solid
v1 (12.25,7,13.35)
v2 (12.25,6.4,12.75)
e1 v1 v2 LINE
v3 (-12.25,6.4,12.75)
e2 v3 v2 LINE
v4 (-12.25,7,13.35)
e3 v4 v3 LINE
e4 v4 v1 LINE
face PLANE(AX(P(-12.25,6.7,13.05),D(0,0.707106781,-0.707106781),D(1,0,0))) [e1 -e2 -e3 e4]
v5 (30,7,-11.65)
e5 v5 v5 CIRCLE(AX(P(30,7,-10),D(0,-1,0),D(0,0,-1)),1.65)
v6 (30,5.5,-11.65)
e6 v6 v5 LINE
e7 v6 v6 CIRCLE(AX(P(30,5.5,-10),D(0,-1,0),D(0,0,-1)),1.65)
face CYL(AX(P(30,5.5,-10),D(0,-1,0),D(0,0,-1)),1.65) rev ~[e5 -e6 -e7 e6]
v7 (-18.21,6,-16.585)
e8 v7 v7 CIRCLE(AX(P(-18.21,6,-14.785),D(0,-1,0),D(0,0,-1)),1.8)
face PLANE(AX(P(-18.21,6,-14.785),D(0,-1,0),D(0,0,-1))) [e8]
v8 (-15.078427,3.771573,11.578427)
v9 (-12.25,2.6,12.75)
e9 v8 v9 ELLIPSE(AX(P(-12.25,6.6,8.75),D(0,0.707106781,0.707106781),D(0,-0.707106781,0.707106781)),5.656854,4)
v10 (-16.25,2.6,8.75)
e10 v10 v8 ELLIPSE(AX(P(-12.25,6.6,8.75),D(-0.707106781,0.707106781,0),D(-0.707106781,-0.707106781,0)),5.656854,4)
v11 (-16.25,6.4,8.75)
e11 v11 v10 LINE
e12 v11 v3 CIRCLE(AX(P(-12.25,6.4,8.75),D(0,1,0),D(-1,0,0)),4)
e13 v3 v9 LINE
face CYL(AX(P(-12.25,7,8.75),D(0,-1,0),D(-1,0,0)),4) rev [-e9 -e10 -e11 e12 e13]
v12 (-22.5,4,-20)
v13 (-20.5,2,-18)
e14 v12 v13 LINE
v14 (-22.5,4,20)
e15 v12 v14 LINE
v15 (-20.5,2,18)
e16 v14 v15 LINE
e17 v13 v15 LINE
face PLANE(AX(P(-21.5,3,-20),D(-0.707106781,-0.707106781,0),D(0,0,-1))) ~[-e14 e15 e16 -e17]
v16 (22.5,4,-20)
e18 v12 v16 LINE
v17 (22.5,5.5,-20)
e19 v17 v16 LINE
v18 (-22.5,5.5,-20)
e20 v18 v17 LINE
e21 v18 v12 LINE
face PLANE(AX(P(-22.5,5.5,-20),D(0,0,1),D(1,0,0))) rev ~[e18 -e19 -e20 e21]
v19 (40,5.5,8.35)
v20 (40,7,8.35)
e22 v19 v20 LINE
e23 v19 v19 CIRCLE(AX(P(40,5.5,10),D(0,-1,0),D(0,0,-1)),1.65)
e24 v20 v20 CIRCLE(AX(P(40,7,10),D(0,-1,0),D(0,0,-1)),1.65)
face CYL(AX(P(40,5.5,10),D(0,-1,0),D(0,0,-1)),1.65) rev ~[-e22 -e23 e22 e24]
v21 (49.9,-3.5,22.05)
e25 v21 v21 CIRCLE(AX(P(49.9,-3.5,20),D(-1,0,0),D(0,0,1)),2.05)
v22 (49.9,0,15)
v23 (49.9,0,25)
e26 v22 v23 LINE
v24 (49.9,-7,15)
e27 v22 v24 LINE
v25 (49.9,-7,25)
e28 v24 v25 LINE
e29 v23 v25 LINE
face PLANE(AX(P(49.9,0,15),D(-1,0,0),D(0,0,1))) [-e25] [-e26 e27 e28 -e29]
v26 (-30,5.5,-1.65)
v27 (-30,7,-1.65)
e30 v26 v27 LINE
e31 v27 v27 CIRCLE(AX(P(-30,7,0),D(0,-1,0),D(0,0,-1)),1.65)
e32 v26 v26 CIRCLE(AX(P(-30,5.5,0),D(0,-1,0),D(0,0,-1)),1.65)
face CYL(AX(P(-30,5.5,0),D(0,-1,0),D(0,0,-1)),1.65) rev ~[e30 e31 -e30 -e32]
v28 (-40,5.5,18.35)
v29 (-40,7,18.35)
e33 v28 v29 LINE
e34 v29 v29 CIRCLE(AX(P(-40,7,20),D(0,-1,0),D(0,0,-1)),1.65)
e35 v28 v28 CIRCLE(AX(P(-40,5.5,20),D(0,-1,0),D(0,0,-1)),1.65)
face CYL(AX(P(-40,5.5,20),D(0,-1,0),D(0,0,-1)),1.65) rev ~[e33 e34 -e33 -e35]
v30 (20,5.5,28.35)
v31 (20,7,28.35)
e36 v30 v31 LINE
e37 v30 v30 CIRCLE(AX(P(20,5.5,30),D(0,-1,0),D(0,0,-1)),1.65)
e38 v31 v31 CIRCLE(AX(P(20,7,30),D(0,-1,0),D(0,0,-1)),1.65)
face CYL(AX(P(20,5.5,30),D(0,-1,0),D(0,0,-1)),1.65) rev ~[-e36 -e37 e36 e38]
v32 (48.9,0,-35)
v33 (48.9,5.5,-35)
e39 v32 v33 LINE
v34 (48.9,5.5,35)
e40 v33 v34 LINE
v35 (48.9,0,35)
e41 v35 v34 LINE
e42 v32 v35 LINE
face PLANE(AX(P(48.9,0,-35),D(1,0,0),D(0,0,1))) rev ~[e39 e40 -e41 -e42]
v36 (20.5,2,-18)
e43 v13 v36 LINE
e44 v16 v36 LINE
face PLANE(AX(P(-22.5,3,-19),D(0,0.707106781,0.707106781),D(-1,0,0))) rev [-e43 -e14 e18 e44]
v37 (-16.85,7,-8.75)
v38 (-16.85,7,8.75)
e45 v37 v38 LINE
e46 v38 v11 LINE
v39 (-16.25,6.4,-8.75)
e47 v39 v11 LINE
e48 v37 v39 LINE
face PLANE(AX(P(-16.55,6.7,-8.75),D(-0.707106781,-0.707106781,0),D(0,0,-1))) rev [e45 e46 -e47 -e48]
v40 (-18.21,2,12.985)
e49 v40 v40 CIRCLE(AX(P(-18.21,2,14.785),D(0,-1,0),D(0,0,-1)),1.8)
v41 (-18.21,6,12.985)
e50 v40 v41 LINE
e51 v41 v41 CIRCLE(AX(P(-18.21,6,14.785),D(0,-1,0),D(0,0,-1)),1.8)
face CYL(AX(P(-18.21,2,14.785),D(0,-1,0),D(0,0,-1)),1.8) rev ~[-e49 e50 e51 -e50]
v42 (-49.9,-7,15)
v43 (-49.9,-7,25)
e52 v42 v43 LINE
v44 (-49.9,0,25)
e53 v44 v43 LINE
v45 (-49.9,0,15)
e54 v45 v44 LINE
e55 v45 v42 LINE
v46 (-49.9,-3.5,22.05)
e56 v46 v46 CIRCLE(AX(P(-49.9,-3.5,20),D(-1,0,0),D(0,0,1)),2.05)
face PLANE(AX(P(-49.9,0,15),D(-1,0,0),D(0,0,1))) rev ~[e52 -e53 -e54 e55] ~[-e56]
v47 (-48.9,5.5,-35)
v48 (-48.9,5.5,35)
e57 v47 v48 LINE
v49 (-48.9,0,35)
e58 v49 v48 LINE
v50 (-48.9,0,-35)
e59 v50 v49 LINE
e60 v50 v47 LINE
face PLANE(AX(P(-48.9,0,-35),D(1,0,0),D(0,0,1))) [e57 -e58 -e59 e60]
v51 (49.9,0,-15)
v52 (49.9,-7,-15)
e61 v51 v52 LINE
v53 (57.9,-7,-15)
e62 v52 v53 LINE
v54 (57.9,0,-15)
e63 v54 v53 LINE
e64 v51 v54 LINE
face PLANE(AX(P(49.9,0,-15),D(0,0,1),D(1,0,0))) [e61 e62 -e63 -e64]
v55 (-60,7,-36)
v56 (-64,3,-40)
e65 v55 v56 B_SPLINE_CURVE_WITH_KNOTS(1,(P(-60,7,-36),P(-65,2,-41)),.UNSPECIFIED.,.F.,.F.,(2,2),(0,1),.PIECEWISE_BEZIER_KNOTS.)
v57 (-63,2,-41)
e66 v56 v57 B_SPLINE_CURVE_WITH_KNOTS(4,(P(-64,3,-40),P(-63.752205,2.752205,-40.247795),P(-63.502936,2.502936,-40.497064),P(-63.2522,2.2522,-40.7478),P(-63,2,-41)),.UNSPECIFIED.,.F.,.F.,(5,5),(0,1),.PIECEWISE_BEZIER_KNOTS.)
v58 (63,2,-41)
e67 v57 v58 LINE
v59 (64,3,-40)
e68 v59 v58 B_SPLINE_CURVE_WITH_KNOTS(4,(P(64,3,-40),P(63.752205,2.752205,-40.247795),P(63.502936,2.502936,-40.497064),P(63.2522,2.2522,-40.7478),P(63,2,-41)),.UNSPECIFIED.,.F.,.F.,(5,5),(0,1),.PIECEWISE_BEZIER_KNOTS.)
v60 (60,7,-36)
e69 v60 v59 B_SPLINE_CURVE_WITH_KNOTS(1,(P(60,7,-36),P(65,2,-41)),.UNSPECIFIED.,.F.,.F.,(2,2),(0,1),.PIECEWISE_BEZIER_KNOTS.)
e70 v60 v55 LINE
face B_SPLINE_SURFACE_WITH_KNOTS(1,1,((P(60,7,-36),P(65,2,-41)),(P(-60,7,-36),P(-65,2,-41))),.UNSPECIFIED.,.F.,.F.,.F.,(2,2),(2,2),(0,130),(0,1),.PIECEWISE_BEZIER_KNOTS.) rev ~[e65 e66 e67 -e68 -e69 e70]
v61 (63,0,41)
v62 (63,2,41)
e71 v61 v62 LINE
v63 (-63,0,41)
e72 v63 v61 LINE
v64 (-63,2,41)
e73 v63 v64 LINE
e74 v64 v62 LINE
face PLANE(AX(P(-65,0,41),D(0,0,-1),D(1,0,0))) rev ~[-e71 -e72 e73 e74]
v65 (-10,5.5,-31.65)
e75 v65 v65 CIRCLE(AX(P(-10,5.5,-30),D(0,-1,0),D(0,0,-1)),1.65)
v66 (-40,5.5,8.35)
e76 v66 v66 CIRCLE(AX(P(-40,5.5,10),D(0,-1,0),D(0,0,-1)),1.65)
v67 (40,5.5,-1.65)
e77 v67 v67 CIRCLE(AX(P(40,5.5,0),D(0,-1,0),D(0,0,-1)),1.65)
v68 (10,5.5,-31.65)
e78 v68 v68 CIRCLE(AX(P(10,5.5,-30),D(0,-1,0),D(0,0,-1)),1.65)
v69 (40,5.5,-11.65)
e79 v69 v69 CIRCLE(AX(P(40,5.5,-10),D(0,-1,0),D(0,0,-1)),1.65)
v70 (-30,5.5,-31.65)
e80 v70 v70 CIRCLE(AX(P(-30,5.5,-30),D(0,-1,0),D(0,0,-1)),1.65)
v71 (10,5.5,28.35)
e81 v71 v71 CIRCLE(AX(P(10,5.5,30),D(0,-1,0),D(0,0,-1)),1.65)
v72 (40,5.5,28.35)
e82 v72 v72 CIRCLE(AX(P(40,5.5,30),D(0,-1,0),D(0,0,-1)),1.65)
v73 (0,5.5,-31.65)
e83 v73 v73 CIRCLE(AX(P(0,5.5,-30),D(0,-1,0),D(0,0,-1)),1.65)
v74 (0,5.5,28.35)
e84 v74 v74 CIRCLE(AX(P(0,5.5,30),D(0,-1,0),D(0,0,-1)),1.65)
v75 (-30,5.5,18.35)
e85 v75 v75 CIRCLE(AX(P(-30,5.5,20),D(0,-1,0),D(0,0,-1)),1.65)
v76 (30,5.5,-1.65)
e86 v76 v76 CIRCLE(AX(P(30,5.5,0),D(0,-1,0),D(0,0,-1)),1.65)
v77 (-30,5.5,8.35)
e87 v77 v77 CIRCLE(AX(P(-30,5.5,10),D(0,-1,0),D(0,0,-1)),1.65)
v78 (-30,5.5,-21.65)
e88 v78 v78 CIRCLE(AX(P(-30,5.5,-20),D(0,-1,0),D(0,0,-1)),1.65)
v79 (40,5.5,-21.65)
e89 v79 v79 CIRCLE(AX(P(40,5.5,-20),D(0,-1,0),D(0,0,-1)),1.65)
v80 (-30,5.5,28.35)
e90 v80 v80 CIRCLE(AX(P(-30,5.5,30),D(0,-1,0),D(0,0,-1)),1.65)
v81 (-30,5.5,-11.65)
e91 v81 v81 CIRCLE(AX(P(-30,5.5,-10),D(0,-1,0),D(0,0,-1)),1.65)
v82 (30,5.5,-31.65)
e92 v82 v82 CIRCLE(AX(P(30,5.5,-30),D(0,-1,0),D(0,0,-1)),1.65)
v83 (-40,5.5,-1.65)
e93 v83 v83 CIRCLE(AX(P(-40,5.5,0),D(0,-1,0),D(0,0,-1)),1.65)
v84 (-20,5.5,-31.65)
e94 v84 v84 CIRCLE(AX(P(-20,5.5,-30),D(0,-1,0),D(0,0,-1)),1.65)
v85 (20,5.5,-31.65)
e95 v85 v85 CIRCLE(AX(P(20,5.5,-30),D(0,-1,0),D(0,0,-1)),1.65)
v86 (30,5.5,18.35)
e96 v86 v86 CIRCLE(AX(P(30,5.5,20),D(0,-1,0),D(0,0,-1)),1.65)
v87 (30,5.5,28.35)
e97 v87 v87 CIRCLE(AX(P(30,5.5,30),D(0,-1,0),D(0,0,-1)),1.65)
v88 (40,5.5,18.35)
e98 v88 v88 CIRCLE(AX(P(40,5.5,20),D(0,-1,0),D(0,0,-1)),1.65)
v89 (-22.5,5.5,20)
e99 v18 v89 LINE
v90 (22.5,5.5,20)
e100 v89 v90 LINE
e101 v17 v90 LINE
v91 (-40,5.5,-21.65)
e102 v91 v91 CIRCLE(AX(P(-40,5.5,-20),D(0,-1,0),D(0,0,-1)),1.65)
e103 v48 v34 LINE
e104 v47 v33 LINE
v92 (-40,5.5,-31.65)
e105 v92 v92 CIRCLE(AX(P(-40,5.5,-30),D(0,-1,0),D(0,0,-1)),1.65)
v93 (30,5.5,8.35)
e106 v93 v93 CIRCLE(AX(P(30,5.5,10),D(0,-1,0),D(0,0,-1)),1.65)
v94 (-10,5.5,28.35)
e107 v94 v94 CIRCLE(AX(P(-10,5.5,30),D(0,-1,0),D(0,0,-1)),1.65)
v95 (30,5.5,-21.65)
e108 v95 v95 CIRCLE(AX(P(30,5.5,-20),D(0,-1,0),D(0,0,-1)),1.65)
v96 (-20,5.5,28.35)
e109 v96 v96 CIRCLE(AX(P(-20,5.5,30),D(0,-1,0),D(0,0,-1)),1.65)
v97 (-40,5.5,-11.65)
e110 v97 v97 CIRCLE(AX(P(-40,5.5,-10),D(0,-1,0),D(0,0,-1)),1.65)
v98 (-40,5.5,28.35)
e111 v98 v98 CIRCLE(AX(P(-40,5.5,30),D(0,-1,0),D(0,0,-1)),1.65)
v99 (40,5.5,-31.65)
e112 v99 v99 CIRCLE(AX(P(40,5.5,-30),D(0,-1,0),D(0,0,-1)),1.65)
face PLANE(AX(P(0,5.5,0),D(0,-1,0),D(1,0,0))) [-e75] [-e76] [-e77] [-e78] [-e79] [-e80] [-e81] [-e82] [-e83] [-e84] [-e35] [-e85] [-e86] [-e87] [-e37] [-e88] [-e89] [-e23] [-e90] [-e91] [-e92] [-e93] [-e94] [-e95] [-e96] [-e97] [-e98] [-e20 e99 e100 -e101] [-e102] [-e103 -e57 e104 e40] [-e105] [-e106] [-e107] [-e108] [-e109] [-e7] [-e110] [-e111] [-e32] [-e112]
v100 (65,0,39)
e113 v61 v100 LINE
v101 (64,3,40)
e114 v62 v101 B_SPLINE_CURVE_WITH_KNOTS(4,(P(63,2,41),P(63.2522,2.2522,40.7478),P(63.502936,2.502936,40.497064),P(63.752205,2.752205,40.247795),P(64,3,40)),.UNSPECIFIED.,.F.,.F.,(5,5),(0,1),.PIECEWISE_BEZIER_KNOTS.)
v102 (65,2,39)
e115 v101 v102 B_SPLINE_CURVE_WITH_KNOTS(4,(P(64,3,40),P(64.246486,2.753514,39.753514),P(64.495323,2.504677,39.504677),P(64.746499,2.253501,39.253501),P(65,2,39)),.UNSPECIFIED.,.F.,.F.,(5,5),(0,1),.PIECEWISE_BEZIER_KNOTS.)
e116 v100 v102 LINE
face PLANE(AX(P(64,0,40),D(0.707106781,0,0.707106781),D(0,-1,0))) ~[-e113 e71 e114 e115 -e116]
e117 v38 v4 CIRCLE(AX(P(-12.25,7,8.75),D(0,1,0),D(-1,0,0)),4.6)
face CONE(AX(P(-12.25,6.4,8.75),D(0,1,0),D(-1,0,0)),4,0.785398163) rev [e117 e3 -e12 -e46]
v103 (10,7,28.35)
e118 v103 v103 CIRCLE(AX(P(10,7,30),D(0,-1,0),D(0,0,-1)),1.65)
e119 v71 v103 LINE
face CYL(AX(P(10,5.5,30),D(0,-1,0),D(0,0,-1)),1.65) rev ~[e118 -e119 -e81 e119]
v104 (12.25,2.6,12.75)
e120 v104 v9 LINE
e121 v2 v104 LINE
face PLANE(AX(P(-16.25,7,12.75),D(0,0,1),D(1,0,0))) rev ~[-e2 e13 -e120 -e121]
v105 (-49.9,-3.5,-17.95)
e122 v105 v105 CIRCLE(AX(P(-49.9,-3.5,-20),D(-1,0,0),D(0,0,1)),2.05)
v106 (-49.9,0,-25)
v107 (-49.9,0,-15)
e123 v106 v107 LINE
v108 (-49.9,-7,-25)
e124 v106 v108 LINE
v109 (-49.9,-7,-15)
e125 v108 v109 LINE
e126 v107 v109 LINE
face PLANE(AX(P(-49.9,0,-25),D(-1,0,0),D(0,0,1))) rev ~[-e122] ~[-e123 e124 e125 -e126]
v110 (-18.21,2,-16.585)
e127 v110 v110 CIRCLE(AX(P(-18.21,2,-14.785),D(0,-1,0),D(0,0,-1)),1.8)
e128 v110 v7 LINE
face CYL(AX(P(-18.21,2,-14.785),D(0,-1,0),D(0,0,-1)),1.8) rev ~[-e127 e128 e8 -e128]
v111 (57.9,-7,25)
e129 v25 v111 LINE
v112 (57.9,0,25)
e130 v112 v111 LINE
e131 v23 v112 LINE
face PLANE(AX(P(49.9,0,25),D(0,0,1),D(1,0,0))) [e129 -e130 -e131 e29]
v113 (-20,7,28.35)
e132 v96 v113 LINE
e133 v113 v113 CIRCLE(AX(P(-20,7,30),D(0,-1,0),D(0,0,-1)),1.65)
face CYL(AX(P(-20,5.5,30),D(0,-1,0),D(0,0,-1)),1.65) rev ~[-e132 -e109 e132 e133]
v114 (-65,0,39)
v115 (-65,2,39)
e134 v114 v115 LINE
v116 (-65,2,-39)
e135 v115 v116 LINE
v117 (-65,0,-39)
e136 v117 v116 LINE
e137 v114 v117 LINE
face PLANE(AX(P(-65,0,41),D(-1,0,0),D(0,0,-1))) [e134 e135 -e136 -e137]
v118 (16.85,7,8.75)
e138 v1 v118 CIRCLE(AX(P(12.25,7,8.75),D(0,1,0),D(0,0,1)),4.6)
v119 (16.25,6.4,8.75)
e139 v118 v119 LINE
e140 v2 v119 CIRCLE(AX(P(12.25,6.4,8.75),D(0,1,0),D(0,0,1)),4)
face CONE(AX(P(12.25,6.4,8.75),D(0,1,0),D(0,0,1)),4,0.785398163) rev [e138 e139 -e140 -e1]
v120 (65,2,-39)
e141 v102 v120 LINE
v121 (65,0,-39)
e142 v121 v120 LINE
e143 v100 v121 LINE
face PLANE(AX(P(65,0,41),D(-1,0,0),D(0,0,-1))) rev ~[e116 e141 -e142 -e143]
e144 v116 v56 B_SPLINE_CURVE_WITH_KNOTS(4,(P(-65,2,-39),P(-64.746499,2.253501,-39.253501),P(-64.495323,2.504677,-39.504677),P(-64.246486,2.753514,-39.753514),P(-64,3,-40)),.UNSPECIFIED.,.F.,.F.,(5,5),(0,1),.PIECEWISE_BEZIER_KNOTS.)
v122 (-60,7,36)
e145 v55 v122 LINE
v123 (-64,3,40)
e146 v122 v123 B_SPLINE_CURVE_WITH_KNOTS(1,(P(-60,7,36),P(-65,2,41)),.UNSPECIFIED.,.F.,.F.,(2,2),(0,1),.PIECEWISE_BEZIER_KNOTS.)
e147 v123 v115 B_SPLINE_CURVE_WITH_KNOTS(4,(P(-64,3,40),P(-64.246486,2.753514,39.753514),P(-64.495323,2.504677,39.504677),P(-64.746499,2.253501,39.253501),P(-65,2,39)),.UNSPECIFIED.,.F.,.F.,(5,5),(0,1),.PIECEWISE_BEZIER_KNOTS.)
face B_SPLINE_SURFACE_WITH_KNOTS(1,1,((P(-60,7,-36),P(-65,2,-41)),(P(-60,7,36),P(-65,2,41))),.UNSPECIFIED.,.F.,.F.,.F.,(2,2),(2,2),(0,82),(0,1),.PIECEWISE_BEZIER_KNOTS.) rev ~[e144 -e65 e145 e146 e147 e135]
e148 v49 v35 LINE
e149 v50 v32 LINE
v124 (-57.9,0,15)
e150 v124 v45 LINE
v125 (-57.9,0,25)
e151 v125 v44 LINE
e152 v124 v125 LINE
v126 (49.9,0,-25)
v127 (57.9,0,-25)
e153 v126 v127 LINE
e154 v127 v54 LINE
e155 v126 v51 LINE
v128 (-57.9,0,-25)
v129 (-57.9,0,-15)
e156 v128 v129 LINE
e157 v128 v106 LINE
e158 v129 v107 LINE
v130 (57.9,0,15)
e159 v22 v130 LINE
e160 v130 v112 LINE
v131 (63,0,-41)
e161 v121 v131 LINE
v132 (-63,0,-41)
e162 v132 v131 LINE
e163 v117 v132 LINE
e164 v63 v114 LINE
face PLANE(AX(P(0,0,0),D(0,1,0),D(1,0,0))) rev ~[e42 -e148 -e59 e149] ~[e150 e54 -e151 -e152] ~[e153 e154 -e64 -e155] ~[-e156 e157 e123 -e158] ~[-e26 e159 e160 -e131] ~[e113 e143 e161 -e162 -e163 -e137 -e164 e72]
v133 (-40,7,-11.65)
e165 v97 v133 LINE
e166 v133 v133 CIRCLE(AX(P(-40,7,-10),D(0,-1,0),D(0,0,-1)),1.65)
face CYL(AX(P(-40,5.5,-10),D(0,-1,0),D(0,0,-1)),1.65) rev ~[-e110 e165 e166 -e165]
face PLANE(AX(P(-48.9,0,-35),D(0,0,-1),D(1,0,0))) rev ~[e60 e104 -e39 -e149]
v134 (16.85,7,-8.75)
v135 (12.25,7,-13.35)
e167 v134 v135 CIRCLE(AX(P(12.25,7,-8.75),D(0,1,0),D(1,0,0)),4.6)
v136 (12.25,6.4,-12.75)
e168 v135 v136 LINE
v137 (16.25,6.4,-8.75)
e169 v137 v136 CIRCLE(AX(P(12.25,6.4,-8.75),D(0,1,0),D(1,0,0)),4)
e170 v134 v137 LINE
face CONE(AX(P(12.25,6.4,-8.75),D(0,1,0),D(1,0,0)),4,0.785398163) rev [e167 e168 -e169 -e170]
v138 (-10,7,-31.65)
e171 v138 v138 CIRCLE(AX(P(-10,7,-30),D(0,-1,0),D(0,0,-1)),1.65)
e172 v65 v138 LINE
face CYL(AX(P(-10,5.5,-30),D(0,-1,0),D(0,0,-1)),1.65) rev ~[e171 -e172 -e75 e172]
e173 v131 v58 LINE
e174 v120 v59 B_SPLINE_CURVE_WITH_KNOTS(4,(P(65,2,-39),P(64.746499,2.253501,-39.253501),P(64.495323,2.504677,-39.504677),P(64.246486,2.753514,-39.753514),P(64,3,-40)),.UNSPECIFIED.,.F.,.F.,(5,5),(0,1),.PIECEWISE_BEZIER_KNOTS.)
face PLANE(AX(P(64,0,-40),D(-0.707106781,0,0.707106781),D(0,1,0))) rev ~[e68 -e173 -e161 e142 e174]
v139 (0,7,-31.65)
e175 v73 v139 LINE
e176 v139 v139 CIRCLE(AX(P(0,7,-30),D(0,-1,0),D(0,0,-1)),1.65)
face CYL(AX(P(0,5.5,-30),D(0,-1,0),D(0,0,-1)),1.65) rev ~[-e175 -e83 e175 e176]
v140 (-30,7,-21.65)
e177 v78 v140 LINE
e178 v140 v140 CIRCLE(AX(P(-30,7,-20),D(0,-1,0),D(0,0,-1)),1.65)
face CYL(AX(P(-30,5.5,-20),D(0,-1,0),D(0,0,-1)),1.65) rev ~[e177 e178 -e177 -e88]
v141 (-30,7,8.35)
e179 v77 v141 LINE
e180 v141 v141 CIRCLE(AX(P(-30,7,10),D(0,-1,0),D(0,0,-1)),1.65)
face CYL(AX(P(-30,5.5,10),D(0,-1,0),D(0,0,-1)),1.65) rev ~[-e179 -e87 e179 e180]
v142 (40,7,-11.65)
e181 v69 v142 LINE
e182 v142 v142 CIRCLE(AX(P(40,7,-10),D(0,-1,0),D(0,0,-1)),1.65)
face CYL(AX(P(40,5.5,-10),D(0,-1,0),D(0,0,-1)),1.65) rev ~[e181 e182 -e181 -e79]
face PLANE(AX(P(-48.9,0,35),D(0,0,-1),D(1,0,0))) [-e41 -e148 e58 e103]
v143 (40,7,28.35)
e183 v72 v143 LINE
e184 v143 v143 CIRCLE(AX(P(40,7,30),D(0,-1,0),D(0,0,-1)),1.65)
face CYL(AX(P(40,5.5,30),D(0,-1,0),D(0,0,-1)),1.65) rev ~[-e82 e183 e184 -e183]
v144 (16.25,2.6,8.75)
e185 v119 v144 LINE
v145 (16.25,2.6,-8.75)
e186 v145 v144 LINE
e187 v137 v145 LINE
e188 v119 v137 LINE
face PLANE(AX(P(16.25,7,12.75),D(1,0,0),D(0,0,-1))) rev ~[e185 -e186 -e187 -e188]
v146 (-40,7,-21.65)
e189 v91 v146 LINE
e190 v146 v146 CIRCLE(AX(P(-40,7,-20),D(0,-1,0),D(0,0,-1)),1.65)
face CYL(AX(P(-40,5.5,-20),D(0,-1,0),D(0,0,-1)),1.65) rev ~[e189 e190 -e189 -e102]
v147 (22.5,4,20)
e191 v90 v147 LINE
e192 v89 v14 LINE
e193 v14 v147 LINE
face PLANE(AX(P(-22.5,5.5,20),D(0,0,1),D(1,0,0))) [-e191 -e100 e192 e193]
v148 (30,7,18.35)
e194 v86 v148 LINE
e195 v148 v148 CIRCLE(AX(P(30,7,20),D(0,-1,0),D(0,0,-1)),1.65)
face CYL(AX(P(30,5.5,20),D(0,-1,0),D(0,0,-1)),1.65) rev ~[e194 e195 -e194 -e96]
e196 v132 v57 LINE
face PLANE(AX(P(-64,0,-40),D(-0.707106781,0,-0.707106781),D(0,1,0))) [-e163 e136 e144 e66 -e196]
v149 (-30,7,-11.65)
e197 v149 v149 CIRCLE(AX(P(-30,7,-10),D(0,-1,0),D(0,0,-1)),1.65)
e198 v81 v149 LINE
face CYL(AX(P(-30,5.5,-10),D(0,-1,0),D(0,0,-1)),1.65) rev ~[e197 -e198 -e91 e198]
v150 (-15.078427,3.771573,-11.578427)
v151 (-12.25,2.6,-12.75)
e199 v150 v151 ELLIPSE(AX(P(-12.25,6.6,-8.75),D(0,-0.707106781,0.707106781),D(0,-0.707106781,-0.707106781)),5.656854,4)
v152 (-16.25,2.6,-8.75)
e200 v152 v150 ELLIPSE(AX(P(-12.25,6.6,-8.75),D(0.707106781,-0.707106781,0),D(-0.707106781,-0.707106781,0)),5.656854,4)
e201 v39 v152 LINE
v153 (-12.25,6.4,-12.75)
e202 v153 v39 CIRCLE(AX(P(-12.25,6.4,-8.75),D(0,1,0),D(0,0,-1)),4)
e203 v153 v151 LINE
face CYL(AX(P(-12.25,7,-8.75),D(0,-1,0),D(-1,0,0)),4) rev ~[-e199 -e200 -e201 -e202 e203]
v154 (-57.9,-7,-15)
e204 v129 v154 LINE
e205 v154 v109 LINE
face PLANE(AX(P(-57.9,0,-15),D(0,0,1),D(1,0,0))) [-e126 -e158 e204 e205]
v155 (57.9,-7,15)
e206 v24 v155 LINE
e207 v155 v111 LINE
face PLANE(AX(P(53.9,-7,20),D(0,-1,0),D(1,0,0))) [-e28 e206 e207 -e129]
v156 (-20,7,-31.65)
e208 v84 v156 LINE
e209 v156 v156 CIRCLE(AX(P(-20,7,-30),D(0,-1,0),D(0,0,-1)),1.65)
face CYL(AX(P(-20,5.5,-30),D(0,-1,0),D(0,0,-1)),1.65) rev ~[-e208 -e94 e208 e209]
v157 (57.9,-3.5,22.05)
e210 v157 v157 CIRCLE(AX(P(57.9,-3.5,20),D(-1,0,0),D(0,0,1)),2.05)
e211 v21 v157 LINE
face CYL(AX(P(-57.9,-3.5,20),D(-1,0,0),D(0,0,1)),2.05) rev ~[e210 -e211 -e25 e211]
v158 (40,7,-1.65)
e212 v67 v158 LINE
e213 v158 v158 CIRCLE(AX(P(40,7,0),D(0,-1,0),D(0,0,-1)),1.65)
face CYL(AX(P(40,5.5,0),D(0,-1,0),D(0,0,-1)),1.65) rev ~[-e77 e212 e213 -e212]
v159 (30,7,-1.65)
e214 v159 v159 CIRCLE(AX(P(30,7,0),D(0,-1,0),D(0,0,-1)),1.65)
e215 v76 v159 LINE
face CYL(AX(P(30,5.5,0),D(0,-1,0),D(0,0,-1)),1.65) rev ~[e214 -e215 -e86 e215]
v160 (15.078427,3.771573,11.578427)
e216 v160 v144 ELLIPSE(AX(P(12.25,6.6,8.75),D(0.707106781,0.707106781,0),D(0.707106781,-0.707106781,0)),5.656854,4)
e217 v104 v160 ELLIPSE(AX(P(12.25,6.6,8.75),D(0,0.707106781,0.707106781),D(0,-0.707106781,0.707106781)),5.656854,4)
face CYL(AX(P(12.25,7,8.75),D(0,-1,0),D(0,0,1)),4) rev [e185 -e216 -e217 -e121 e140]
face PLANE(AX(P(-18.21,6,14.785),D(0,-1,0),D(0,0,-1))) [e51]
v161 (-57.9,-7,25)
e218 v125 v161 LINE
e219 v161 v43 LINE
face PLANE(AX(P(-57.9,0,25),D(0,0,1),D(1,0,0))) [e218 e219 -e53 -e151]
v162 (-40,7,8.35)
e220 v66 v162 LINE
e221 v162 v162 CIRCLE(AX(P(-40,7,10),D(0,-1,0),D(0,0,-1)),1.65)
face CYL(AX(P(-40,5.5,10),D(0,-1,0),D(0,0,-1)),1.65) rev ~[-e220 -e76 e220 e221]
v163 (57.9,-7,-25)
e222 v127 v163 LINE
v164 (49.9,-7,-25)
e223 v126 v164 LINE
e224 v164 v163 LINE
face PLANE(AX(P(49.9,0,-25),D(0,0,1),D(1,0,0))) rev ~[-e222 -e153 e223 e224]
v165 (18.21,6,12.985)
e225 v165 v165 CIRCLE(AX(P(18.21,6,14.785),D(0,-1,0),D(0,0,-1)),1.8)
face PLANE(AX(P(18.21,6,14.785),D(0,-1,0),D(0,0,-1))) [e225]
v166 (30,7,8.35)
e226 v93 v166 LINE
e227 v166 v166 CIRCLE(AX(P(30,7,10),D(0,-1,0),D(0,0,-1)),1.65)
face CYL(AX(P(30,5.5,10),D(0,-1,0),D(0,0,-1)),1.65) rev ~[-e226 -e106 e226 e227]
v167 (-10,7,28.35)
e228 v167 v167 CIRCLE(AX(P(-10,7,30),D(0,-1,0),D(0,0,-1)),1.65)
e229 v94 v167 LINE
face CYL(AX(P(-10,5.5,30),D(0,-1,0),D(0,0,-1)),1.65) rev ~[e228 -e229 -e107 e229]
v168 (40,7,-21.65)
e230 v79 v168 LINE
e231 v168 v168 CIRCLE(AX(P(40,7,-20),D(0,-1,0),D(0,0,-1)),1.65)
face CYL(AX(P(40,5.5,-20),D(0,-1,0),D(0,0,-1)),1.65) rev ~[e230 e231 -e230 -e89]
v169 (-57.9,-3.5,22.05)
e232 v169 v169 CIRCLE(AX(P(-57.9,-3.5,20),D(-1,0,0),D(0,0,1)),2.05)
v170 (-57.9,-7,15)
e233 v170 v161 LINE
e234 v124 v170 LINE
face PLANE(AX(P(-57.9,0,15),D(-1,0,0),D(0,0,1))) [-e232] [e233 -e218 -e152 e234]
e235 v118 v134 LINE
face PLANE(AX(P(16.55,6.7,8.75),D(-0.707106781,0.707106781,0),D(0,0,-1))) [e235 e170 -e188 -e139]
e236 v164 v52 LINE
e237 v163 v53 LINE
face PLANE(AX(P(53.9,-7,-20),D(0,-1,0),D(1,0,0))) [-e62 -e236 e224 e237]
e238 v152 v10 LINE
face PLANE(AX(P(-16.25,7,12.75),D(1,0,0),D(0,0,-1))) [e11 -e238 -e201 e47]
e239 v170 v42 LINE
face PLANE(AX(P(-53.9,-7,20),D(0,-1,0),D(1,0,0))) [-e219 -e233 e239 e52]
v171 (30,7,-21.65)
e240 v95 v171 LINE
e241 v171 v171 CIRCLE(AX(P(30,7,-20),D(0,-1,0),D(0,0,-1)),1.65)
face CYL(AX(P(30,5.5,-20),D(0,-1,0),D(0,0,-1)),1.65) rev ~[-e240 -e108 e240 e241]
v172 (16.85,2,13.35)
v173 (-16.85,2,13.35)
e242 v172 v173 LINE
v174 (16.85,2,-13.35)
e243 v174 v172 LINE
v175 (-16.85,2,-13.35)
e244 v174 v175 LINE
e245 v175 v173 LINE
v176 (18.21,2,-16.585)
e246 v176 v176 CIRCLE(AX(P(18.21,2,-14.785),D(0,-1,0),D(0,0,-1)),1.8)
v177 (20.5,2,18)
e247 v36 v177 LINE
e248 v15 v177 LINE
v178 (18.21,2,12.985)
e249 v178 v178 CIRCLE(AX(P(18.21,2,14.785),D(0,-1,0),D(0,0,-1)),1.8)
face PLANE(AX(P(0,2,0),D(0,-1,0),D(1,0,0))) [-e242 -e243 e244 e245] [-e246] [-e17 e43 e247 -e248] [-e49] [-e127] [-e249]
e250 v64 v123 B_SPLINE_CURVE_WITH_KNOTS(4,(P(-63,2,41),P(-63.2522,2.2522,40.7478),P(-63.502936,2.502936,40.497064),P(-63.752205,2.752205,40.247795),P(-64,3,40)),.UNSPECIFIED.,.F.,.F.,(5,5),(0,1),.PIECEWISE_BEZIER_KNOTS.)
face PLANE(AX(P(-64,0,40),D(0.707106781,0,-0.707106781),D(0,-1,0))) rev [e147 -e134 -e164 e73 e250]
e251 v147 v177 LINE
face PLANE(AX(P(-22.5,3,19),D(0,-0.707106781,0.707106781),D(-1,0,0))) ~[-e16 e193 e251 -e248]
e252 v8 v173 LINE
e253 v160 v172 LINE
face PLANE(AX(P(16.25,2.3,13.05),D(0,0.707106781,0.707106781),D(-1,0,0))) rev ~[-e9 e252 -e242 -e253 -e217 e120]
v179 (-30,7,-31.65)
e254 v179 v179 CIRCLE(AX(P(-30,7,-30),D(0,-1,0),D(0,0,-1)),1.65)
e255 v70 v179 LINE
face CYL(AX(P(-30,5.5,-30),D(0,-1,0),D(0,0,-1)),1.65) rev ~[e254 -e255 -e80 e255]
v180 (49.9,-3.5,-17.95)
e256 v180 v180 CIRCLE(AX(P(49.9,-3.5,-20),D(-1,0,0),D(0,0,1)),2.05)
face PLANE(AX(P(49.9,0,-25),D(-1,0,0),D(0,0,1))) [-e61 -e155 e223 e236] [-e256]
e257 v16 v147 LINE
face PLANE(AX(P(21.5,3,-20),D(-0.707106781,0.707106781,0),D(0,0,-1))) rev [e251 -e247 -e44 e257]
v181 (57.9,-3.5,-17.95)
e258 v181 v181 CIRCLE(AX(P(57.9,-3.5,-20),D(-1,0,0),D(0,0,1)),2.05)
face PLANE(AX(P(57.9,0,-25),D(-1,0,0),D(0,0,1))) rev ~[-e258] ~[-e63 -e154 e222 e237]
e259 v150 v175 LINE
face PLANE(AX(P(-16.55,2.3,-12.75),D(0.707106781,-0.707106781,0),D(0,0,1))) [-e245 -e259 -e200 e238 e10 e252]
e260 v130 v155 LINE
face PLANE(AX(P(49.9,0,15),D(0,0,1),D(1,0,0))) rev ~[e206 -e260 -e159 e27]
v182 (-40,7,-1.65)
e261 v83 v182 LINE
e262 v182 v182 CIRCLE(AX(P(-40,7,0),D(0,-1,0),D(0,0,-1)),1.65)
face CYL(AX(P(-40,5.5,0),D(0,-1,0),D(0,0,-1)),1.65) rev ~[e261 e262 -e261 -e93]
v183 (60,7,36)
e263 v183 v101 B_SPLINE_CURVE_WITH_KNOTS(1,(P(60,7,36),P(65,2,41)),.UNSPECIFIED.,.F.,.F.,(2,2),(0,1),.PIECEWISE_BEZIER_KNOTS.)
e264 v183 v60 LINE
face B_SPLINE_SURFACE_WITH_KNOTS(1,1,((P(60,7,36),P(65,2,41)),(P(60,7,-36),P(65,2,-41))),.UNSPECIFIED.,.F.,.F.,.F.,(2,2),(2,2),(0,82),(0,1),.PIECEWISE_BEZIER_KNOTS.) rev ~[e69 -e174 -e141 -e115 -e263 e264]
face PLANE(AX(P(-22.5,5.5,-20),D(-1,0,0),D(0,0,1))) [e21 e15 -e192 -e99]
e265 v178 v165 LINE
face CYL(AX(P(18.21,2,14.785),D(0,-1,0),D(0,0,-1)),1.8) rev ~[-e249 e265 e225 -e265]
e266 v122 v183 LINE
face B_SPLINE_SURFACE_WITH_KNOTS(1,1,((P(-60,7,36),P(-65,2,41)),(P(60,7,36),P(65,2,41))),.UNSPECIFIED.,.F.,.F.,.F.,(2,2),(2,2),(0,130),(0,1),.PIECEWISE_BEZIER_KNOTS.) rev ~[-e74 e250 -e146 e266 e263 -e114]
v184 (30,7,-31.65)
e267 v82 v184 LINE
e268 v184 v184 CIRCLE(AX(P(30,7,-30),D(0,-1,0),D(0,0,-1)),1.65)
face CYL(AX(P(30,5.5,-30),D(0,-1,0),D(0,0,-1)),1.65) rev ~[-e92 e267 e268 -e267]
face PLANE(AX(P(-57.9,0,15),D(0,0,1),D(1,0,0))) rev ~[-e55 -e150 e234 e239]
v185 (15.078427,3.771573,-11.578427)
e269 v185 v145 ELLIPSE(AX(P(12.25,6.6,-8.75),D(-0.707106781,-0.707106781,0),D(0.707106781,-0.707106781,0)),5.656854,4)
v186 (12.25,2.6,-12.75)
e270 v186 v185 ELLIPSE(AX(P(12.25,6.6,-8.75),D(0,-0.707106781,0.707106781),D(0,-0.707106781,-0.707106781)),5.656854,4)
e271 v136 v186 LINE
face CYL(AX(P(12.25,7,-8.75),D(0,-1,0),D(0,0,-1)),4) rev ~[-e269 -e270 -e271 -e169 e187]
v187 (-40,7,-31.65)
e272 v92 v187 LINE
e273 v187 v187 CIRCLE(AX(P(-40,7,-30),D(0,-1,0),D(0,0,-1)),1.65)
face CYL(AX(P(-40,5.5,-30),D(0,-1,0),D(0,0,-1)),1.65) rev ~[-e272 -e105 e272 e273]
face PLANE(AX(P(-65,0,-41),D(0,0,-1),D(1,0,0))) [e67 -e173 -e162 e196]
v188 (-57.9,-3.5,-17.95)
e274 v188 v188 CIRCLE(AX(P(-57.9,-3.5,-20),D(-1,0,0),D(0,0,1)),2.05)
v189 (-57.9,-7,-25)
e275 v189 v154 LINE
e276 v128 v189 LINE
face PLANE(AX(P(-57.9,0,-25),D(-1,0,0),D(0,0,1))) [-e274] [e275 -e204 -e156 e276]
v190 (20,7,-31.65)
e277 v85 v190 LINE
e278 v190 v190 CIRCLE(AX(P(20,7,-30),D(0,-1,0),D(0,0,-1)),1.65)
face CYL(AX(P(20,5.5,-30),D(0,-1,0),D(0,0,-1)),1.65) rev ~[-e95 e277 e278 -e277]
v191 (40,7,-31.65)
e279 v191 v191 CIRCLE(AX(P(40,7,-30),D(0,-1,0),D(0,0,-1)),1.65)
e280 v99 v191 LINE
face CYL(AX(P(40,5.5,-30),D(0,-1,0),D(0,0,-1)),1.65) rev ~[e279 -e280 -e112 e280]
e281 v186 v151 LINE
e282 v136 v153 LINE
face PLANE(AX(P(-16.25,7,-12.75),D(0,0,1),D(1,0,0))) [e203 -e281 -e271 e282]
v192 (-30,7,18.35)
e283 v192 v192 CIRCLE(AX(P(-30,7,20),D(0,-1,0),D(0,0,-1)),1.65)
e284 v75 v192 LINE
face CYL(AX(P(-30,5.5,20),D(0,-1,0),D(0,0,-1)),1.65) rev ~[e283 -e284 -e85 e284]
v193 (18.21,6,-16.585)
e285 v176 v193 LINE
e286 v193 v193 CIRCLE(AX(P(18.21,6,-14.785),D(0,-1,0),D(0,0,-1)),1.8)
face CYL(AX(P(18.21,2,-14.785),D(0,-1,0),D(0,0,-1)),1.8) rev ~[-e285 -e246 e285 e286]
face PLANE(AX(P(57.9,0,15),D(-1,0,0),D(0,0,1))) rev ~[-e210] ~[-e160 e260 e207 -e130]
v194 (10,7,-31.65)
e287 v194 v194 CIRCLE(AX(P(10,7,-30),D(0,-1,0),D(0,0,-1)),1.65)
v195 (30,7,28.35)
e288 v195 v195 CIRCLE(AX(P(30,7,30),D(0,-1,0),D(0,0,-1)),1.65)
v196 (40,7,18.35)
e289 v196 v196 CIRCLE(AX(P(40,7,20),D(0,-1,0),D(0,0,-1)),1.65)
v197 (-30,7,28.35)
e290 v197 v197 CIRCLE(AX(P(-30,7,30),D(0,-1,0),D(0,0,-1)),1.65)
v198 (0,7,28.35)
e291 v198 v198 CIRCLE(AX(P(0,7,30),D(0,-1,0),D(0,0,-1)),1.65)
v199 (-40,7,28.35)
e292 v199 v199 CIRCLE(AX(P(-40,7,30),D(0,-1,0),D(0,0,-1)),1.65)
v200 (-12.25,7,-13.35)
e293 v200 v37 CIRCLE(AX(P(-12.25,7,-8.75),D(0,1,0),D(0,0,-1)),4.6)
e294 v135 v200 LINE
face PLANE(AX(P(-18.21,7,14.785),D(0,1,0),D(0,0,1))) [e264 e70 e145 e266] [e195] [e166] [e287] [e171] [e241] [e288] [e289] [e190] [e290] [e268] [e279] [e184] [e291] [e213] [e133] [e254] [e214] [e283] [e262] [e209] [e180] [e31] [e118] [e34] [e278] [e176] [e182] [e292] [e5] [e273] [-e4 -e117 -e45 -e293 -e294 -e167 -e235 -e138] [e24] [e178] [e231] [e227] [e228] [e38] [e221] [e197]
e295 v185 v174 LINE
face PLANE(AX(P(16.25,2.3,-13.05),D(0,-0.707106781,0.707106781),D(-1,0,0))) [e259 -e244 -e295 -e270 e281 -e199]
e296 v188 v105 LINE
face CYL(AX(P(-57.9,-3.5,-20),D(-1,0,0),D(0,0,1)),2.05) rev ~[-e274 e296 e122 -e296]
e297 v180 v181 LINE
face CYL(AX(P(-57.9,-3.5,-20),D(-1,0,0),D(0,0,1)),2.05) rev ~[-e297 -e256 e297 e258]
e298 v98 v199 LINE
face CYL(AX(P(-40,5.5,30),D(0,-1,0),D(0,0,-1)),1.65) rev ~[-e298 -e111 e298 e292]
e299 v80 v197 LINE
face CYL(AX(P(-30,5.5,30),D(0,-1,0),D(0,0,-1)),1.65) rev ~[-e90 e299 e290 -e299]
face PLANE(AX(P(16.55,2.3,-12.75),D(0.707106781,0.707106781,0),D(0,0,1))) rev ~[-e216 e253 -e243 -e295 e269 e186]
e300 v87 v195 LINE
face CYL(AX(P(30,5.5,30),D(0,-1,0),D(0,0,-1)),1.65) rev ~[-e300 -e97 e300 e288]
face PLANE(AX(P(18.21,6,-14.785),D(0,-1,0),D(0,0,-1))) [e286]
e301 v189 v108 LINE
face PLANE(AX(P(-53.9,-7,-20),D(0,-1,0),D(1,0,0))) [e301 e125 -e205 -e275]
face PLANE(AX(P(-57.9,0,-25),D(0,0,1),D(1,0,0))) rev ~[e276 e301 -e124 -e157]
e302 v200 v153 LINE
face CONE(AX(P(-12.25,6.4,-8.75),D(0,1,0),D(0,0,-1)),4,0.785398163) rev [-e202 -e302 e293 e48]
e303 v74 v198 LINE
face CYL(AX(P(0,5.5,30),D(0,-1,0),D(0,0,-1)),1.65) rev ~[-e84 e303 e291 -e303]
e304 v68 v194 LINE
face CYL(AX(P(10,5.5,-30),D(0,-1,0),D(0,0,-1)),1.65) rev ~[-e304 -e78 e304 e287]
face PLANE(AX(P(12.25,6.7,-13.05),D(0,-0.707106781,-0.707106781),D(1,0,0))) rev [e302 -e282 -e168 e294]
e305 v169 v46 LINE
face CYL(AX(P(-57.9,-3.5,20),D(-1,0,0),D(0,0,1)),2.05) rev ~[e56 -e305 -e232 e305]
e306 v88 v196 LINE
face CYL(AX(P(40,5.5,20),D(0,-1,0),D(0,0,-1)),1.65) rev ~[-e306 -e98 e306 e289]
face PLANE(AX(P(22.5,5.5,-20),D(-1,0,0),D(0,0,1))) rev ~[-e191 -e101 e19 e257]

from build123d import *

# Parameters (mm, degrees)
SKETCH1_W           = 130
SKETCH1_H           = 82
BOSS_EXTRUDE1_DEPTH = 2
CHAMFER2_SIZE       = 2
SKETCH4_W           = 8
SKETCH4_H           = 10
BOSS_EXTRUDE2_DEPTH = 7
SKETCH5_R           = 2.05
CUT_EXTRUDE1_DEPTH  = 130.747485656
SKETCH6_W           = 97.8
SKETCH6_H           = 70
CUT_EXTRUDE2_DEPTH  = 5.5
SKETCH7_R           = 1.65
CUT_EXTRUDE3_DEPTH  = 78.860452228
SKETCH10_W          = 50
SKETCH10_H          = 50
BOSS_EXTRUDE3_DEPTH = 1.5
SKETCH11_W          = 45
SKETCH11_H          = 40
BOSS_EXTRUDE4_DEPTH = 3.5
SKETCH12_R          = 1.35
SKETCH12_W          = 32.5
SKETCH12_H          = 25.5
CUT_EXTRUDE4_DEPTH  = 79.115299533
CHAMFER3_SIZE       = 0.6
FILLET1_R           = 4
CHAMFER4_SIZE       = 0.6
SKETCH13_R          = 1.35
BOSS_EXTRUDE5_DEPTH = 1
SKETCH14_R          = 1.8
CUT_EXTRUDE5_DEPTH  = 4
CHAMFER5_SIZE       = 2


with BuildPart() as part:
    # Sketch1 → Boss-Extrude1 (new body)
    with BuildSketch(Plane(origin=(0, 0, 0), x_dir=(1, 0, 0), z_dir=(0, 1, 0))):
        Rectangle(SKETCH1_W, SKETCH1_H)
    extrude(amount=BOSS_EXTRUDE1_DEPTH)

    # Sketch3 → Loft1 section 0
    with BuildSketch(Plane(origin=(0, 7, 0), x_dir=(1, 0, 0), z_dir=(0, 1, 0))):
        with BuildLine():
            Line((-60, -36), (60, -36))
            Line((60, -36), (60, 36))
            Line((60, 36), (-60, 36))
            Line((-60, 36), (-60, -36))
        make_face()
    # Sketch2 → Loft1 section 1
    with BuildSketch(Plane(origin=(0, 2, 0), x_dir=(1, 0, 0), z_dir=(0, 1, 0))):
        with BuildLine():
            Line((65, -41), (65, 41))
            Line((65, 41), (-65, 41))
            Line((-65, 41), (-65, -41))
            Line((-65, -41), (65, -41))
        make_face()
    loft()

    # Chamfer2
    chamfer2_edges = [part.edges().sort_by_distance(p)[0] for p in [
        (65, 1, 41),
        (-65, 1, 41),
        (-65, 1, -41),
        (65, 1, -41),
    ]]
    chamfer(chamfer2_edges, length=CHAMFER2_SIZE)

    # Sketch4 → Boss-Extrude2 (add)
    with BuildSketch(Plane.XZ):
        with Locations((-53.9, 20)):
            Rectangle(SKETCH4_W, SKETCH4_H)
        with Locations((-53.9, -20)):
            Rectangle(SKETCH4_W, SKETCH4_H)
        with Locations((53.9, -20)):
            Rectangle(SKETCH4_W, SKETCH4_H)
        with Locations((53.9, 20)):
            Rectangle(SKETCH4_W, SKETCH4_H)
    extrude(amount=BOSS_EXTRUDE2_DEPTH)

    # Sketch5 → Cut-Extrude1 (cut, through all)
    with BuildSketch(Plane.ZY.offset(57.9)):
        with Locations((-20, -3.5)):
            Circle(SKETCH5_R)
        with Locations((20, -3.5)):
            Circle(SKETCH5_R)
    extrude(amount=-CUT_EXTRUDE1_DEPTH, mode=Mode.SUBTRACT)

    # Sketch6 → Cut-Extrude2 (cut)
    with BuildSketch(Plane.XZ):
        Rectangle(SKETCH6_W, SKETCH6_H)
    extrude(amount=-CUT_EXTRUDE2_DEPTH, mode=Mode.SUBTRACT)

    # Sketch7 → Cut-Extrude3 (cut, through all)
    with BuildSketch(Plane.XZ.offset(-5.5)):
        with Locations(Location((0, 0, 0), (0, 0, 270))):
            Circle(SKETCH7_R)
        with Locations(Location((10, 0, 0), (0, 0, 270))):
            Circle(SKETCH7_R)
        with Locations(Location((20, 0, 0), (0, 0, 270))):
            Circle(SKETCH7_R)
        with Locations(Location((30, 0, 0), (0, 0, 270))):
            Circle(SKETCH7_R)
        with Locations(Location((40, 0, 0), (0, 0, 270))):
            Circle(SKETCH7_R)
        with Locations(Location((10, 10, 0), (0, 0, 270))):
            Circle(SKETCH7_R)
        with Locations(Location((20, 10, 0), (0, 0, 270))):
            Circle(SKETCH7_R)
        with Locations(Location((30, 10, 0), (0, 0, 270))):
            Circle(SKETCH7_R)
        with Locations(Location((40, 10, 0), (0, 0, 270))):
            Circle(SKETCH7_R)
        with Locations(Location((10, 20, 0), (0, 0, 270))):
            Circle(SKETCH7_R)
        with Locations(Location((20, 20, 0), (0, 0, 270))):
            Circle(SKETCH7_R)
        with Locations(Location((30, 20, 0), (0, 0, 270))):
            Circle(SKETCH7_R)
        with Locations(Location((40, 20, 0), (0, 0, 270))):
            Circle(SKETCH7_R)
        with Locations(Location((10, 30, 0), (0, 0, 270))):
            Circle(SKETCH7_R)
        with Locations(Location((20, 30, 0), (0, 0, 270))):
            Circle(SKETCH7_R)
        with Locations(Location((30, 30, 0), (0, 0, 270))):
            Circle(SKETCH7_R)
        with Locations(Location((40, 30, 0), (0, 0, 270))):
            Circle(SKETCH7_R)
        with Locations(Location((0, 10, 0), (0, 0, 270))):
            Circle(SKETCH7_R)
        with Locations(Location((0, 20, 0), (0, 0, 270))):
            Circle(SKETCH7_R)
        with Locations(Location((0, 30, 0), (0, 0, 270))):
            Circle(SKETCH7_R)
        with Locations(Location((-40, 30, 0), (0, 0, 270))):
            Circle(SKETCH7_R)
        with Locations(Location((-30, 30, 0), (0, 0, 270))):
            Circle(SKETCH7_R)
        with Locations(Location((-20, 30, 0), (0, 0, 270))):
            Circle(SKETCH7_R)
        with Locations(Location((-10, 30, 0), (0, 0, 270))):
            Circle(SKETCH7_R)
        with Locations(Location((-40, 20, 0), (0, 0, 270))):
            Circle(SKETCH7_R)
        with Locations(Location((-30, 20, 0), (0, 0, 270))):
            Circle(SKETCH7_R)
        with Locations(Location((-20, 20, 0), (0, 0, 270))):
            Circle(SKETCH7_R)
        with Locations(Location((-10, 20, 0), (0, 0, 270))):
            Circle(SKETCH7_R)
        with Locations(Location((-40, 10, 0), (0, 0, 270))):
            Circle(SKETCH7_R)
        with Locations(Location((-30, 10, 0), (0, 0, 270))):
            Circle(SKETCH7_R)
        with Locations(Location((-20, 10, 0), (0, 0, 270))):
            Circle(SKETCH7_R)
        with Locations(Location((-10, 10, 0), (0, 0, 270))):
            Circle(SKETCH7_R)
        with Locations(Location((-40, 0, 0), (0, 0, 270))):
            Circle(SKETCH7_R)
        with Locations(Location((-30, 0, 0), (0, 0, 270))):
            Circle(SKETCH7_R)
        with Locations(Location((-20, 0, 0), (0, 0, 270))):
            Circle(SKETCH7_R)
        with Locations(Location((-10, 0, 0), (0, 0, 270))):
            Circle(SKETCH7_R)
        with Locations(Location((-10, -10, 0), (0, 0, 270))):
            Circle(SKETCH7_R)
        with Locations(Location((-20, -10, 0), (0, 0, 270))):
            Circle(SKETCH7_R)
        with Locations(Location((-30, -10, 0), (0, 0, 270))):
            Circle(SKETCH7_R)
        with Locations(Location((-40, -10, 0), (0, 0, 270))):
            Circle(SKETCH7_R)
        with Locations(Location((-10, -20, 0), (0, 0, 270))):
            Circle(SKETCH7_R)
        with Locations(Location((-20, -20, 0), (0, 0, 270))):
            Circle(SKETCH7_R)
        with Locations(Location((-30, -20, 0), (0, 0, 270))):
            Circle(SKETCH7_R)
        with Locations(Location((-40, -20, 0), (0, 0, 270))):
            Circle(SKETCH7_R)
        with Locations(Location((-10, -30, 0), (0, 0, 270))):
            Circle(SKETCH7_R)
        with Locations(Location((-20, -30, 0), (0, 0, 270))):
            Circle(SKETCH7_R)
        with Locations(Location((-30, -30, 0), (0, 0, 270))):
            Circle(SKETCH7_R)
        with Locations(Location((-40, -30, 0), (0, 0, 270))):
            Circle(SKETCH7_R)
        with Locations(Location((0, -30, 0), (0, 0, 270))):
            Circle(SKETCH7_R)
        with Locations(Location((0, -20, 0), (0, 0, 270))):
            Circle(SKETCH7_R)
        with Locations(Location((0, -10, 0), (0, 0, 270))):
            Circle(SKETCH7_R)
        with Locations(Location((40, -30, 0), (0, 0, 270))):
            Circle(SKETCH7_R)
        with Locations(Location((30, -30, 0), (0, 0, 270))):
            Circle(SKETCH7_R)
        with Locations(Location((20, -30, 0), (0, 0, 270))):
            Circle(SKETCH7_R)
        with Locations(Location((10, -30, 0), (0, 0, 270))):
            Circle(SKETCH7_R)
        with Locations(Location((40, -20, 0), (0, 0, 270))):
            Circle(SKETCH7_R)
        with Locations(Location((30, -20, 0), (0, 0, 270))):
            Circle(SKETCH7_R)
        with Locations(Location((20, -20, 0), (0, 0, 270))):
            Circle(SKETCH7_R)
        with Locations(Location((10, -20, 0), (0, 0, 270))):
            Circle(SKETCH7_R)
        with Locations(Location((40, -10, 0), (0, 0, 270))):
            Circle(SKETCH7_R)
        with Locations(Location((30, -10, 0), (0, 0, 270))):
            Circle(SKETCH7_R)
        with Locations(Location((20, -10, 0), (0, 0, 270))):
            Circle(SKETCH7_R)
        with Locations(Location((10, -10, 0), (0, 0, 270))):
            Circle(SKETCH7_R)
    extrude(amount=-CUT_EXTRUDE3_DEPTH, mode=Mode.SUBTRACT)

    # Sketch10 → Boss-Extrude3 (add)
    with BuildSketch(Plane(origin=(0, 7, 0), x_dir=(1, 0, 0), z_dir=(0, 1, 0))):
        Rectangle(SKETCH10_W, SKETCH10_H)
    extrude(amount=-BOSS_EXTRUDE3_DEPTH)

    # Sketch11 → Boss-Extrude4 (add)
    with BuildSketch(Plane.XZ.offset(-5.5)):
        Rectangle(SKETCH11_W, SKETCH11_H)
    extrude(amount=BOSS_EXTRUDE4_DEPTH)

    # Sketch12 → Cut-Extrude4 (cut, through all)
    with BuildSketch(Plane(origin=(0, 7, 0), x_dir=(1, 0, 0), z_dir=(0, 1, 0))):
        with Locations(Location((-18.21, 14.785, 0), (0, 0, 270))):
            Circle(SKETCH12_R)
        with Locations(Location((18.21, 14.785, 0), (0, 0, 270))):
            Circle(SKETCH12_R)
        with Locations(Location((18.21, -14.785, 0), (0, 0, 270))):
            Circle(SKETCH12_R)
        with Locations(Location((-18.21, -14.785, 0), (0, 0, 270))):
            Circle(SKETCH12_R)
        Rectangle(SKETCH12_W, SKETCH12_H)
    extrude(amount=-CUT_EXTRUDE4_DEPTH, mode=Mode.SUBTRACT)

    # Chamfer3
    chamfer3_edges = [part.edges().sort_by_distance(p)[0] for p in [
        (0, 2, -12.75),
        (-16.25, 2, 0),
        (0, 2, 12.75),
        (16.25, 2, 0),
    ]]
    chamfer(chamfer3_edges, length=CHAMFER3_SIZE)

    # Fillet1
    fillet1_edges = [part.edges().sort_by_distance(p)[0] for p in [
        (-16.25, 4.8, 12.75),
        (16.25, 4.8, 12.75),
        (16.25, 4.8, -12.75),
        (-16.25, 4.8, -12.75),
    ]]
    fillet(fillet1_edges, radius=FILLET1_R)

    # Chamfer4
    chamfer4_edges = [part.edges().sort_by_distance(p)[0] for p in [
        (16.25, 7, 0),
        (0, 7, 12.75),
        (-16.25, 7, 0),
        (0, 7, -12.75),
        (15.078427125, 7, 11.578427125),
        (-15.078427125, 7, 11.578427125),
        (15.078427125, 7, -11.578427125),
        (-15.078427125, 7, -11.578427125),
    ]]
    chamfer(chamfer4_edges, length=CHAMFER4_SIZE)

    # Sketch13 → Boss-Extrude5 (add)
    with BuildSketch(Plane(origin=(0, 7, 0), x_dir=(1, 0, 0), z_dir=(0, 1, 0))):
        with Locations(Location((-18.21, -14.785, 0), (0, 0, 270))):
            Circle(SKETCH13_R)
        with Locations(Location((18.21, -14.785, 0), (0, 0, 270))):
            Circle(SKETCH13_R)
        with Locations(Location((18.21, 14.785, 0), (0, 0, 270))):
            Circle(SKETCH13_R)
        with Locations(Location((-18.21, 14.785, 0), (0, 0, 270))):
            Circle(SKETCH13_R)
    extrude(amount=-BOSS_EXTRUDE5_DEPTH)

    # Sketch14 → Cut-Extrude5 (cut)
    with BuildSketch(Plane.XZ.offset(-2)):
        with Locations(Location((-18.21, 14.785, 0), (0, 0, 270))):
            Circle(SKETCH14_R)
        with Locations(Location((18.21, 14.785, 0), (0, 0, 270))):
            Circle(SKETCH14_R)
        with Locations(Location((18.21, -14.785, 0), (0, 0, 270))):
            Circle(SKETCH14_R)
        with Locations(Location((-18.21, -14.785, 0), (0, 0, 270))):
            Circle(SKETCH14_R)
    extrude(amount=-CUT_EXTRUDE5_DEPTH, mode=Mode.SUBTRACT)

    # Chamfer5
    chamfer5_edges = [part.edges().sort_by_distance(p)[0] for p in [
        (22.5, 2, 0),
        (0, 2, 20),
        (-22.5, 2, 0),
        (0, 2, -20),
    ]]
    chamfer(chamfer5_edges, length=CHAMFER5_SIZE)


solid = part.part
